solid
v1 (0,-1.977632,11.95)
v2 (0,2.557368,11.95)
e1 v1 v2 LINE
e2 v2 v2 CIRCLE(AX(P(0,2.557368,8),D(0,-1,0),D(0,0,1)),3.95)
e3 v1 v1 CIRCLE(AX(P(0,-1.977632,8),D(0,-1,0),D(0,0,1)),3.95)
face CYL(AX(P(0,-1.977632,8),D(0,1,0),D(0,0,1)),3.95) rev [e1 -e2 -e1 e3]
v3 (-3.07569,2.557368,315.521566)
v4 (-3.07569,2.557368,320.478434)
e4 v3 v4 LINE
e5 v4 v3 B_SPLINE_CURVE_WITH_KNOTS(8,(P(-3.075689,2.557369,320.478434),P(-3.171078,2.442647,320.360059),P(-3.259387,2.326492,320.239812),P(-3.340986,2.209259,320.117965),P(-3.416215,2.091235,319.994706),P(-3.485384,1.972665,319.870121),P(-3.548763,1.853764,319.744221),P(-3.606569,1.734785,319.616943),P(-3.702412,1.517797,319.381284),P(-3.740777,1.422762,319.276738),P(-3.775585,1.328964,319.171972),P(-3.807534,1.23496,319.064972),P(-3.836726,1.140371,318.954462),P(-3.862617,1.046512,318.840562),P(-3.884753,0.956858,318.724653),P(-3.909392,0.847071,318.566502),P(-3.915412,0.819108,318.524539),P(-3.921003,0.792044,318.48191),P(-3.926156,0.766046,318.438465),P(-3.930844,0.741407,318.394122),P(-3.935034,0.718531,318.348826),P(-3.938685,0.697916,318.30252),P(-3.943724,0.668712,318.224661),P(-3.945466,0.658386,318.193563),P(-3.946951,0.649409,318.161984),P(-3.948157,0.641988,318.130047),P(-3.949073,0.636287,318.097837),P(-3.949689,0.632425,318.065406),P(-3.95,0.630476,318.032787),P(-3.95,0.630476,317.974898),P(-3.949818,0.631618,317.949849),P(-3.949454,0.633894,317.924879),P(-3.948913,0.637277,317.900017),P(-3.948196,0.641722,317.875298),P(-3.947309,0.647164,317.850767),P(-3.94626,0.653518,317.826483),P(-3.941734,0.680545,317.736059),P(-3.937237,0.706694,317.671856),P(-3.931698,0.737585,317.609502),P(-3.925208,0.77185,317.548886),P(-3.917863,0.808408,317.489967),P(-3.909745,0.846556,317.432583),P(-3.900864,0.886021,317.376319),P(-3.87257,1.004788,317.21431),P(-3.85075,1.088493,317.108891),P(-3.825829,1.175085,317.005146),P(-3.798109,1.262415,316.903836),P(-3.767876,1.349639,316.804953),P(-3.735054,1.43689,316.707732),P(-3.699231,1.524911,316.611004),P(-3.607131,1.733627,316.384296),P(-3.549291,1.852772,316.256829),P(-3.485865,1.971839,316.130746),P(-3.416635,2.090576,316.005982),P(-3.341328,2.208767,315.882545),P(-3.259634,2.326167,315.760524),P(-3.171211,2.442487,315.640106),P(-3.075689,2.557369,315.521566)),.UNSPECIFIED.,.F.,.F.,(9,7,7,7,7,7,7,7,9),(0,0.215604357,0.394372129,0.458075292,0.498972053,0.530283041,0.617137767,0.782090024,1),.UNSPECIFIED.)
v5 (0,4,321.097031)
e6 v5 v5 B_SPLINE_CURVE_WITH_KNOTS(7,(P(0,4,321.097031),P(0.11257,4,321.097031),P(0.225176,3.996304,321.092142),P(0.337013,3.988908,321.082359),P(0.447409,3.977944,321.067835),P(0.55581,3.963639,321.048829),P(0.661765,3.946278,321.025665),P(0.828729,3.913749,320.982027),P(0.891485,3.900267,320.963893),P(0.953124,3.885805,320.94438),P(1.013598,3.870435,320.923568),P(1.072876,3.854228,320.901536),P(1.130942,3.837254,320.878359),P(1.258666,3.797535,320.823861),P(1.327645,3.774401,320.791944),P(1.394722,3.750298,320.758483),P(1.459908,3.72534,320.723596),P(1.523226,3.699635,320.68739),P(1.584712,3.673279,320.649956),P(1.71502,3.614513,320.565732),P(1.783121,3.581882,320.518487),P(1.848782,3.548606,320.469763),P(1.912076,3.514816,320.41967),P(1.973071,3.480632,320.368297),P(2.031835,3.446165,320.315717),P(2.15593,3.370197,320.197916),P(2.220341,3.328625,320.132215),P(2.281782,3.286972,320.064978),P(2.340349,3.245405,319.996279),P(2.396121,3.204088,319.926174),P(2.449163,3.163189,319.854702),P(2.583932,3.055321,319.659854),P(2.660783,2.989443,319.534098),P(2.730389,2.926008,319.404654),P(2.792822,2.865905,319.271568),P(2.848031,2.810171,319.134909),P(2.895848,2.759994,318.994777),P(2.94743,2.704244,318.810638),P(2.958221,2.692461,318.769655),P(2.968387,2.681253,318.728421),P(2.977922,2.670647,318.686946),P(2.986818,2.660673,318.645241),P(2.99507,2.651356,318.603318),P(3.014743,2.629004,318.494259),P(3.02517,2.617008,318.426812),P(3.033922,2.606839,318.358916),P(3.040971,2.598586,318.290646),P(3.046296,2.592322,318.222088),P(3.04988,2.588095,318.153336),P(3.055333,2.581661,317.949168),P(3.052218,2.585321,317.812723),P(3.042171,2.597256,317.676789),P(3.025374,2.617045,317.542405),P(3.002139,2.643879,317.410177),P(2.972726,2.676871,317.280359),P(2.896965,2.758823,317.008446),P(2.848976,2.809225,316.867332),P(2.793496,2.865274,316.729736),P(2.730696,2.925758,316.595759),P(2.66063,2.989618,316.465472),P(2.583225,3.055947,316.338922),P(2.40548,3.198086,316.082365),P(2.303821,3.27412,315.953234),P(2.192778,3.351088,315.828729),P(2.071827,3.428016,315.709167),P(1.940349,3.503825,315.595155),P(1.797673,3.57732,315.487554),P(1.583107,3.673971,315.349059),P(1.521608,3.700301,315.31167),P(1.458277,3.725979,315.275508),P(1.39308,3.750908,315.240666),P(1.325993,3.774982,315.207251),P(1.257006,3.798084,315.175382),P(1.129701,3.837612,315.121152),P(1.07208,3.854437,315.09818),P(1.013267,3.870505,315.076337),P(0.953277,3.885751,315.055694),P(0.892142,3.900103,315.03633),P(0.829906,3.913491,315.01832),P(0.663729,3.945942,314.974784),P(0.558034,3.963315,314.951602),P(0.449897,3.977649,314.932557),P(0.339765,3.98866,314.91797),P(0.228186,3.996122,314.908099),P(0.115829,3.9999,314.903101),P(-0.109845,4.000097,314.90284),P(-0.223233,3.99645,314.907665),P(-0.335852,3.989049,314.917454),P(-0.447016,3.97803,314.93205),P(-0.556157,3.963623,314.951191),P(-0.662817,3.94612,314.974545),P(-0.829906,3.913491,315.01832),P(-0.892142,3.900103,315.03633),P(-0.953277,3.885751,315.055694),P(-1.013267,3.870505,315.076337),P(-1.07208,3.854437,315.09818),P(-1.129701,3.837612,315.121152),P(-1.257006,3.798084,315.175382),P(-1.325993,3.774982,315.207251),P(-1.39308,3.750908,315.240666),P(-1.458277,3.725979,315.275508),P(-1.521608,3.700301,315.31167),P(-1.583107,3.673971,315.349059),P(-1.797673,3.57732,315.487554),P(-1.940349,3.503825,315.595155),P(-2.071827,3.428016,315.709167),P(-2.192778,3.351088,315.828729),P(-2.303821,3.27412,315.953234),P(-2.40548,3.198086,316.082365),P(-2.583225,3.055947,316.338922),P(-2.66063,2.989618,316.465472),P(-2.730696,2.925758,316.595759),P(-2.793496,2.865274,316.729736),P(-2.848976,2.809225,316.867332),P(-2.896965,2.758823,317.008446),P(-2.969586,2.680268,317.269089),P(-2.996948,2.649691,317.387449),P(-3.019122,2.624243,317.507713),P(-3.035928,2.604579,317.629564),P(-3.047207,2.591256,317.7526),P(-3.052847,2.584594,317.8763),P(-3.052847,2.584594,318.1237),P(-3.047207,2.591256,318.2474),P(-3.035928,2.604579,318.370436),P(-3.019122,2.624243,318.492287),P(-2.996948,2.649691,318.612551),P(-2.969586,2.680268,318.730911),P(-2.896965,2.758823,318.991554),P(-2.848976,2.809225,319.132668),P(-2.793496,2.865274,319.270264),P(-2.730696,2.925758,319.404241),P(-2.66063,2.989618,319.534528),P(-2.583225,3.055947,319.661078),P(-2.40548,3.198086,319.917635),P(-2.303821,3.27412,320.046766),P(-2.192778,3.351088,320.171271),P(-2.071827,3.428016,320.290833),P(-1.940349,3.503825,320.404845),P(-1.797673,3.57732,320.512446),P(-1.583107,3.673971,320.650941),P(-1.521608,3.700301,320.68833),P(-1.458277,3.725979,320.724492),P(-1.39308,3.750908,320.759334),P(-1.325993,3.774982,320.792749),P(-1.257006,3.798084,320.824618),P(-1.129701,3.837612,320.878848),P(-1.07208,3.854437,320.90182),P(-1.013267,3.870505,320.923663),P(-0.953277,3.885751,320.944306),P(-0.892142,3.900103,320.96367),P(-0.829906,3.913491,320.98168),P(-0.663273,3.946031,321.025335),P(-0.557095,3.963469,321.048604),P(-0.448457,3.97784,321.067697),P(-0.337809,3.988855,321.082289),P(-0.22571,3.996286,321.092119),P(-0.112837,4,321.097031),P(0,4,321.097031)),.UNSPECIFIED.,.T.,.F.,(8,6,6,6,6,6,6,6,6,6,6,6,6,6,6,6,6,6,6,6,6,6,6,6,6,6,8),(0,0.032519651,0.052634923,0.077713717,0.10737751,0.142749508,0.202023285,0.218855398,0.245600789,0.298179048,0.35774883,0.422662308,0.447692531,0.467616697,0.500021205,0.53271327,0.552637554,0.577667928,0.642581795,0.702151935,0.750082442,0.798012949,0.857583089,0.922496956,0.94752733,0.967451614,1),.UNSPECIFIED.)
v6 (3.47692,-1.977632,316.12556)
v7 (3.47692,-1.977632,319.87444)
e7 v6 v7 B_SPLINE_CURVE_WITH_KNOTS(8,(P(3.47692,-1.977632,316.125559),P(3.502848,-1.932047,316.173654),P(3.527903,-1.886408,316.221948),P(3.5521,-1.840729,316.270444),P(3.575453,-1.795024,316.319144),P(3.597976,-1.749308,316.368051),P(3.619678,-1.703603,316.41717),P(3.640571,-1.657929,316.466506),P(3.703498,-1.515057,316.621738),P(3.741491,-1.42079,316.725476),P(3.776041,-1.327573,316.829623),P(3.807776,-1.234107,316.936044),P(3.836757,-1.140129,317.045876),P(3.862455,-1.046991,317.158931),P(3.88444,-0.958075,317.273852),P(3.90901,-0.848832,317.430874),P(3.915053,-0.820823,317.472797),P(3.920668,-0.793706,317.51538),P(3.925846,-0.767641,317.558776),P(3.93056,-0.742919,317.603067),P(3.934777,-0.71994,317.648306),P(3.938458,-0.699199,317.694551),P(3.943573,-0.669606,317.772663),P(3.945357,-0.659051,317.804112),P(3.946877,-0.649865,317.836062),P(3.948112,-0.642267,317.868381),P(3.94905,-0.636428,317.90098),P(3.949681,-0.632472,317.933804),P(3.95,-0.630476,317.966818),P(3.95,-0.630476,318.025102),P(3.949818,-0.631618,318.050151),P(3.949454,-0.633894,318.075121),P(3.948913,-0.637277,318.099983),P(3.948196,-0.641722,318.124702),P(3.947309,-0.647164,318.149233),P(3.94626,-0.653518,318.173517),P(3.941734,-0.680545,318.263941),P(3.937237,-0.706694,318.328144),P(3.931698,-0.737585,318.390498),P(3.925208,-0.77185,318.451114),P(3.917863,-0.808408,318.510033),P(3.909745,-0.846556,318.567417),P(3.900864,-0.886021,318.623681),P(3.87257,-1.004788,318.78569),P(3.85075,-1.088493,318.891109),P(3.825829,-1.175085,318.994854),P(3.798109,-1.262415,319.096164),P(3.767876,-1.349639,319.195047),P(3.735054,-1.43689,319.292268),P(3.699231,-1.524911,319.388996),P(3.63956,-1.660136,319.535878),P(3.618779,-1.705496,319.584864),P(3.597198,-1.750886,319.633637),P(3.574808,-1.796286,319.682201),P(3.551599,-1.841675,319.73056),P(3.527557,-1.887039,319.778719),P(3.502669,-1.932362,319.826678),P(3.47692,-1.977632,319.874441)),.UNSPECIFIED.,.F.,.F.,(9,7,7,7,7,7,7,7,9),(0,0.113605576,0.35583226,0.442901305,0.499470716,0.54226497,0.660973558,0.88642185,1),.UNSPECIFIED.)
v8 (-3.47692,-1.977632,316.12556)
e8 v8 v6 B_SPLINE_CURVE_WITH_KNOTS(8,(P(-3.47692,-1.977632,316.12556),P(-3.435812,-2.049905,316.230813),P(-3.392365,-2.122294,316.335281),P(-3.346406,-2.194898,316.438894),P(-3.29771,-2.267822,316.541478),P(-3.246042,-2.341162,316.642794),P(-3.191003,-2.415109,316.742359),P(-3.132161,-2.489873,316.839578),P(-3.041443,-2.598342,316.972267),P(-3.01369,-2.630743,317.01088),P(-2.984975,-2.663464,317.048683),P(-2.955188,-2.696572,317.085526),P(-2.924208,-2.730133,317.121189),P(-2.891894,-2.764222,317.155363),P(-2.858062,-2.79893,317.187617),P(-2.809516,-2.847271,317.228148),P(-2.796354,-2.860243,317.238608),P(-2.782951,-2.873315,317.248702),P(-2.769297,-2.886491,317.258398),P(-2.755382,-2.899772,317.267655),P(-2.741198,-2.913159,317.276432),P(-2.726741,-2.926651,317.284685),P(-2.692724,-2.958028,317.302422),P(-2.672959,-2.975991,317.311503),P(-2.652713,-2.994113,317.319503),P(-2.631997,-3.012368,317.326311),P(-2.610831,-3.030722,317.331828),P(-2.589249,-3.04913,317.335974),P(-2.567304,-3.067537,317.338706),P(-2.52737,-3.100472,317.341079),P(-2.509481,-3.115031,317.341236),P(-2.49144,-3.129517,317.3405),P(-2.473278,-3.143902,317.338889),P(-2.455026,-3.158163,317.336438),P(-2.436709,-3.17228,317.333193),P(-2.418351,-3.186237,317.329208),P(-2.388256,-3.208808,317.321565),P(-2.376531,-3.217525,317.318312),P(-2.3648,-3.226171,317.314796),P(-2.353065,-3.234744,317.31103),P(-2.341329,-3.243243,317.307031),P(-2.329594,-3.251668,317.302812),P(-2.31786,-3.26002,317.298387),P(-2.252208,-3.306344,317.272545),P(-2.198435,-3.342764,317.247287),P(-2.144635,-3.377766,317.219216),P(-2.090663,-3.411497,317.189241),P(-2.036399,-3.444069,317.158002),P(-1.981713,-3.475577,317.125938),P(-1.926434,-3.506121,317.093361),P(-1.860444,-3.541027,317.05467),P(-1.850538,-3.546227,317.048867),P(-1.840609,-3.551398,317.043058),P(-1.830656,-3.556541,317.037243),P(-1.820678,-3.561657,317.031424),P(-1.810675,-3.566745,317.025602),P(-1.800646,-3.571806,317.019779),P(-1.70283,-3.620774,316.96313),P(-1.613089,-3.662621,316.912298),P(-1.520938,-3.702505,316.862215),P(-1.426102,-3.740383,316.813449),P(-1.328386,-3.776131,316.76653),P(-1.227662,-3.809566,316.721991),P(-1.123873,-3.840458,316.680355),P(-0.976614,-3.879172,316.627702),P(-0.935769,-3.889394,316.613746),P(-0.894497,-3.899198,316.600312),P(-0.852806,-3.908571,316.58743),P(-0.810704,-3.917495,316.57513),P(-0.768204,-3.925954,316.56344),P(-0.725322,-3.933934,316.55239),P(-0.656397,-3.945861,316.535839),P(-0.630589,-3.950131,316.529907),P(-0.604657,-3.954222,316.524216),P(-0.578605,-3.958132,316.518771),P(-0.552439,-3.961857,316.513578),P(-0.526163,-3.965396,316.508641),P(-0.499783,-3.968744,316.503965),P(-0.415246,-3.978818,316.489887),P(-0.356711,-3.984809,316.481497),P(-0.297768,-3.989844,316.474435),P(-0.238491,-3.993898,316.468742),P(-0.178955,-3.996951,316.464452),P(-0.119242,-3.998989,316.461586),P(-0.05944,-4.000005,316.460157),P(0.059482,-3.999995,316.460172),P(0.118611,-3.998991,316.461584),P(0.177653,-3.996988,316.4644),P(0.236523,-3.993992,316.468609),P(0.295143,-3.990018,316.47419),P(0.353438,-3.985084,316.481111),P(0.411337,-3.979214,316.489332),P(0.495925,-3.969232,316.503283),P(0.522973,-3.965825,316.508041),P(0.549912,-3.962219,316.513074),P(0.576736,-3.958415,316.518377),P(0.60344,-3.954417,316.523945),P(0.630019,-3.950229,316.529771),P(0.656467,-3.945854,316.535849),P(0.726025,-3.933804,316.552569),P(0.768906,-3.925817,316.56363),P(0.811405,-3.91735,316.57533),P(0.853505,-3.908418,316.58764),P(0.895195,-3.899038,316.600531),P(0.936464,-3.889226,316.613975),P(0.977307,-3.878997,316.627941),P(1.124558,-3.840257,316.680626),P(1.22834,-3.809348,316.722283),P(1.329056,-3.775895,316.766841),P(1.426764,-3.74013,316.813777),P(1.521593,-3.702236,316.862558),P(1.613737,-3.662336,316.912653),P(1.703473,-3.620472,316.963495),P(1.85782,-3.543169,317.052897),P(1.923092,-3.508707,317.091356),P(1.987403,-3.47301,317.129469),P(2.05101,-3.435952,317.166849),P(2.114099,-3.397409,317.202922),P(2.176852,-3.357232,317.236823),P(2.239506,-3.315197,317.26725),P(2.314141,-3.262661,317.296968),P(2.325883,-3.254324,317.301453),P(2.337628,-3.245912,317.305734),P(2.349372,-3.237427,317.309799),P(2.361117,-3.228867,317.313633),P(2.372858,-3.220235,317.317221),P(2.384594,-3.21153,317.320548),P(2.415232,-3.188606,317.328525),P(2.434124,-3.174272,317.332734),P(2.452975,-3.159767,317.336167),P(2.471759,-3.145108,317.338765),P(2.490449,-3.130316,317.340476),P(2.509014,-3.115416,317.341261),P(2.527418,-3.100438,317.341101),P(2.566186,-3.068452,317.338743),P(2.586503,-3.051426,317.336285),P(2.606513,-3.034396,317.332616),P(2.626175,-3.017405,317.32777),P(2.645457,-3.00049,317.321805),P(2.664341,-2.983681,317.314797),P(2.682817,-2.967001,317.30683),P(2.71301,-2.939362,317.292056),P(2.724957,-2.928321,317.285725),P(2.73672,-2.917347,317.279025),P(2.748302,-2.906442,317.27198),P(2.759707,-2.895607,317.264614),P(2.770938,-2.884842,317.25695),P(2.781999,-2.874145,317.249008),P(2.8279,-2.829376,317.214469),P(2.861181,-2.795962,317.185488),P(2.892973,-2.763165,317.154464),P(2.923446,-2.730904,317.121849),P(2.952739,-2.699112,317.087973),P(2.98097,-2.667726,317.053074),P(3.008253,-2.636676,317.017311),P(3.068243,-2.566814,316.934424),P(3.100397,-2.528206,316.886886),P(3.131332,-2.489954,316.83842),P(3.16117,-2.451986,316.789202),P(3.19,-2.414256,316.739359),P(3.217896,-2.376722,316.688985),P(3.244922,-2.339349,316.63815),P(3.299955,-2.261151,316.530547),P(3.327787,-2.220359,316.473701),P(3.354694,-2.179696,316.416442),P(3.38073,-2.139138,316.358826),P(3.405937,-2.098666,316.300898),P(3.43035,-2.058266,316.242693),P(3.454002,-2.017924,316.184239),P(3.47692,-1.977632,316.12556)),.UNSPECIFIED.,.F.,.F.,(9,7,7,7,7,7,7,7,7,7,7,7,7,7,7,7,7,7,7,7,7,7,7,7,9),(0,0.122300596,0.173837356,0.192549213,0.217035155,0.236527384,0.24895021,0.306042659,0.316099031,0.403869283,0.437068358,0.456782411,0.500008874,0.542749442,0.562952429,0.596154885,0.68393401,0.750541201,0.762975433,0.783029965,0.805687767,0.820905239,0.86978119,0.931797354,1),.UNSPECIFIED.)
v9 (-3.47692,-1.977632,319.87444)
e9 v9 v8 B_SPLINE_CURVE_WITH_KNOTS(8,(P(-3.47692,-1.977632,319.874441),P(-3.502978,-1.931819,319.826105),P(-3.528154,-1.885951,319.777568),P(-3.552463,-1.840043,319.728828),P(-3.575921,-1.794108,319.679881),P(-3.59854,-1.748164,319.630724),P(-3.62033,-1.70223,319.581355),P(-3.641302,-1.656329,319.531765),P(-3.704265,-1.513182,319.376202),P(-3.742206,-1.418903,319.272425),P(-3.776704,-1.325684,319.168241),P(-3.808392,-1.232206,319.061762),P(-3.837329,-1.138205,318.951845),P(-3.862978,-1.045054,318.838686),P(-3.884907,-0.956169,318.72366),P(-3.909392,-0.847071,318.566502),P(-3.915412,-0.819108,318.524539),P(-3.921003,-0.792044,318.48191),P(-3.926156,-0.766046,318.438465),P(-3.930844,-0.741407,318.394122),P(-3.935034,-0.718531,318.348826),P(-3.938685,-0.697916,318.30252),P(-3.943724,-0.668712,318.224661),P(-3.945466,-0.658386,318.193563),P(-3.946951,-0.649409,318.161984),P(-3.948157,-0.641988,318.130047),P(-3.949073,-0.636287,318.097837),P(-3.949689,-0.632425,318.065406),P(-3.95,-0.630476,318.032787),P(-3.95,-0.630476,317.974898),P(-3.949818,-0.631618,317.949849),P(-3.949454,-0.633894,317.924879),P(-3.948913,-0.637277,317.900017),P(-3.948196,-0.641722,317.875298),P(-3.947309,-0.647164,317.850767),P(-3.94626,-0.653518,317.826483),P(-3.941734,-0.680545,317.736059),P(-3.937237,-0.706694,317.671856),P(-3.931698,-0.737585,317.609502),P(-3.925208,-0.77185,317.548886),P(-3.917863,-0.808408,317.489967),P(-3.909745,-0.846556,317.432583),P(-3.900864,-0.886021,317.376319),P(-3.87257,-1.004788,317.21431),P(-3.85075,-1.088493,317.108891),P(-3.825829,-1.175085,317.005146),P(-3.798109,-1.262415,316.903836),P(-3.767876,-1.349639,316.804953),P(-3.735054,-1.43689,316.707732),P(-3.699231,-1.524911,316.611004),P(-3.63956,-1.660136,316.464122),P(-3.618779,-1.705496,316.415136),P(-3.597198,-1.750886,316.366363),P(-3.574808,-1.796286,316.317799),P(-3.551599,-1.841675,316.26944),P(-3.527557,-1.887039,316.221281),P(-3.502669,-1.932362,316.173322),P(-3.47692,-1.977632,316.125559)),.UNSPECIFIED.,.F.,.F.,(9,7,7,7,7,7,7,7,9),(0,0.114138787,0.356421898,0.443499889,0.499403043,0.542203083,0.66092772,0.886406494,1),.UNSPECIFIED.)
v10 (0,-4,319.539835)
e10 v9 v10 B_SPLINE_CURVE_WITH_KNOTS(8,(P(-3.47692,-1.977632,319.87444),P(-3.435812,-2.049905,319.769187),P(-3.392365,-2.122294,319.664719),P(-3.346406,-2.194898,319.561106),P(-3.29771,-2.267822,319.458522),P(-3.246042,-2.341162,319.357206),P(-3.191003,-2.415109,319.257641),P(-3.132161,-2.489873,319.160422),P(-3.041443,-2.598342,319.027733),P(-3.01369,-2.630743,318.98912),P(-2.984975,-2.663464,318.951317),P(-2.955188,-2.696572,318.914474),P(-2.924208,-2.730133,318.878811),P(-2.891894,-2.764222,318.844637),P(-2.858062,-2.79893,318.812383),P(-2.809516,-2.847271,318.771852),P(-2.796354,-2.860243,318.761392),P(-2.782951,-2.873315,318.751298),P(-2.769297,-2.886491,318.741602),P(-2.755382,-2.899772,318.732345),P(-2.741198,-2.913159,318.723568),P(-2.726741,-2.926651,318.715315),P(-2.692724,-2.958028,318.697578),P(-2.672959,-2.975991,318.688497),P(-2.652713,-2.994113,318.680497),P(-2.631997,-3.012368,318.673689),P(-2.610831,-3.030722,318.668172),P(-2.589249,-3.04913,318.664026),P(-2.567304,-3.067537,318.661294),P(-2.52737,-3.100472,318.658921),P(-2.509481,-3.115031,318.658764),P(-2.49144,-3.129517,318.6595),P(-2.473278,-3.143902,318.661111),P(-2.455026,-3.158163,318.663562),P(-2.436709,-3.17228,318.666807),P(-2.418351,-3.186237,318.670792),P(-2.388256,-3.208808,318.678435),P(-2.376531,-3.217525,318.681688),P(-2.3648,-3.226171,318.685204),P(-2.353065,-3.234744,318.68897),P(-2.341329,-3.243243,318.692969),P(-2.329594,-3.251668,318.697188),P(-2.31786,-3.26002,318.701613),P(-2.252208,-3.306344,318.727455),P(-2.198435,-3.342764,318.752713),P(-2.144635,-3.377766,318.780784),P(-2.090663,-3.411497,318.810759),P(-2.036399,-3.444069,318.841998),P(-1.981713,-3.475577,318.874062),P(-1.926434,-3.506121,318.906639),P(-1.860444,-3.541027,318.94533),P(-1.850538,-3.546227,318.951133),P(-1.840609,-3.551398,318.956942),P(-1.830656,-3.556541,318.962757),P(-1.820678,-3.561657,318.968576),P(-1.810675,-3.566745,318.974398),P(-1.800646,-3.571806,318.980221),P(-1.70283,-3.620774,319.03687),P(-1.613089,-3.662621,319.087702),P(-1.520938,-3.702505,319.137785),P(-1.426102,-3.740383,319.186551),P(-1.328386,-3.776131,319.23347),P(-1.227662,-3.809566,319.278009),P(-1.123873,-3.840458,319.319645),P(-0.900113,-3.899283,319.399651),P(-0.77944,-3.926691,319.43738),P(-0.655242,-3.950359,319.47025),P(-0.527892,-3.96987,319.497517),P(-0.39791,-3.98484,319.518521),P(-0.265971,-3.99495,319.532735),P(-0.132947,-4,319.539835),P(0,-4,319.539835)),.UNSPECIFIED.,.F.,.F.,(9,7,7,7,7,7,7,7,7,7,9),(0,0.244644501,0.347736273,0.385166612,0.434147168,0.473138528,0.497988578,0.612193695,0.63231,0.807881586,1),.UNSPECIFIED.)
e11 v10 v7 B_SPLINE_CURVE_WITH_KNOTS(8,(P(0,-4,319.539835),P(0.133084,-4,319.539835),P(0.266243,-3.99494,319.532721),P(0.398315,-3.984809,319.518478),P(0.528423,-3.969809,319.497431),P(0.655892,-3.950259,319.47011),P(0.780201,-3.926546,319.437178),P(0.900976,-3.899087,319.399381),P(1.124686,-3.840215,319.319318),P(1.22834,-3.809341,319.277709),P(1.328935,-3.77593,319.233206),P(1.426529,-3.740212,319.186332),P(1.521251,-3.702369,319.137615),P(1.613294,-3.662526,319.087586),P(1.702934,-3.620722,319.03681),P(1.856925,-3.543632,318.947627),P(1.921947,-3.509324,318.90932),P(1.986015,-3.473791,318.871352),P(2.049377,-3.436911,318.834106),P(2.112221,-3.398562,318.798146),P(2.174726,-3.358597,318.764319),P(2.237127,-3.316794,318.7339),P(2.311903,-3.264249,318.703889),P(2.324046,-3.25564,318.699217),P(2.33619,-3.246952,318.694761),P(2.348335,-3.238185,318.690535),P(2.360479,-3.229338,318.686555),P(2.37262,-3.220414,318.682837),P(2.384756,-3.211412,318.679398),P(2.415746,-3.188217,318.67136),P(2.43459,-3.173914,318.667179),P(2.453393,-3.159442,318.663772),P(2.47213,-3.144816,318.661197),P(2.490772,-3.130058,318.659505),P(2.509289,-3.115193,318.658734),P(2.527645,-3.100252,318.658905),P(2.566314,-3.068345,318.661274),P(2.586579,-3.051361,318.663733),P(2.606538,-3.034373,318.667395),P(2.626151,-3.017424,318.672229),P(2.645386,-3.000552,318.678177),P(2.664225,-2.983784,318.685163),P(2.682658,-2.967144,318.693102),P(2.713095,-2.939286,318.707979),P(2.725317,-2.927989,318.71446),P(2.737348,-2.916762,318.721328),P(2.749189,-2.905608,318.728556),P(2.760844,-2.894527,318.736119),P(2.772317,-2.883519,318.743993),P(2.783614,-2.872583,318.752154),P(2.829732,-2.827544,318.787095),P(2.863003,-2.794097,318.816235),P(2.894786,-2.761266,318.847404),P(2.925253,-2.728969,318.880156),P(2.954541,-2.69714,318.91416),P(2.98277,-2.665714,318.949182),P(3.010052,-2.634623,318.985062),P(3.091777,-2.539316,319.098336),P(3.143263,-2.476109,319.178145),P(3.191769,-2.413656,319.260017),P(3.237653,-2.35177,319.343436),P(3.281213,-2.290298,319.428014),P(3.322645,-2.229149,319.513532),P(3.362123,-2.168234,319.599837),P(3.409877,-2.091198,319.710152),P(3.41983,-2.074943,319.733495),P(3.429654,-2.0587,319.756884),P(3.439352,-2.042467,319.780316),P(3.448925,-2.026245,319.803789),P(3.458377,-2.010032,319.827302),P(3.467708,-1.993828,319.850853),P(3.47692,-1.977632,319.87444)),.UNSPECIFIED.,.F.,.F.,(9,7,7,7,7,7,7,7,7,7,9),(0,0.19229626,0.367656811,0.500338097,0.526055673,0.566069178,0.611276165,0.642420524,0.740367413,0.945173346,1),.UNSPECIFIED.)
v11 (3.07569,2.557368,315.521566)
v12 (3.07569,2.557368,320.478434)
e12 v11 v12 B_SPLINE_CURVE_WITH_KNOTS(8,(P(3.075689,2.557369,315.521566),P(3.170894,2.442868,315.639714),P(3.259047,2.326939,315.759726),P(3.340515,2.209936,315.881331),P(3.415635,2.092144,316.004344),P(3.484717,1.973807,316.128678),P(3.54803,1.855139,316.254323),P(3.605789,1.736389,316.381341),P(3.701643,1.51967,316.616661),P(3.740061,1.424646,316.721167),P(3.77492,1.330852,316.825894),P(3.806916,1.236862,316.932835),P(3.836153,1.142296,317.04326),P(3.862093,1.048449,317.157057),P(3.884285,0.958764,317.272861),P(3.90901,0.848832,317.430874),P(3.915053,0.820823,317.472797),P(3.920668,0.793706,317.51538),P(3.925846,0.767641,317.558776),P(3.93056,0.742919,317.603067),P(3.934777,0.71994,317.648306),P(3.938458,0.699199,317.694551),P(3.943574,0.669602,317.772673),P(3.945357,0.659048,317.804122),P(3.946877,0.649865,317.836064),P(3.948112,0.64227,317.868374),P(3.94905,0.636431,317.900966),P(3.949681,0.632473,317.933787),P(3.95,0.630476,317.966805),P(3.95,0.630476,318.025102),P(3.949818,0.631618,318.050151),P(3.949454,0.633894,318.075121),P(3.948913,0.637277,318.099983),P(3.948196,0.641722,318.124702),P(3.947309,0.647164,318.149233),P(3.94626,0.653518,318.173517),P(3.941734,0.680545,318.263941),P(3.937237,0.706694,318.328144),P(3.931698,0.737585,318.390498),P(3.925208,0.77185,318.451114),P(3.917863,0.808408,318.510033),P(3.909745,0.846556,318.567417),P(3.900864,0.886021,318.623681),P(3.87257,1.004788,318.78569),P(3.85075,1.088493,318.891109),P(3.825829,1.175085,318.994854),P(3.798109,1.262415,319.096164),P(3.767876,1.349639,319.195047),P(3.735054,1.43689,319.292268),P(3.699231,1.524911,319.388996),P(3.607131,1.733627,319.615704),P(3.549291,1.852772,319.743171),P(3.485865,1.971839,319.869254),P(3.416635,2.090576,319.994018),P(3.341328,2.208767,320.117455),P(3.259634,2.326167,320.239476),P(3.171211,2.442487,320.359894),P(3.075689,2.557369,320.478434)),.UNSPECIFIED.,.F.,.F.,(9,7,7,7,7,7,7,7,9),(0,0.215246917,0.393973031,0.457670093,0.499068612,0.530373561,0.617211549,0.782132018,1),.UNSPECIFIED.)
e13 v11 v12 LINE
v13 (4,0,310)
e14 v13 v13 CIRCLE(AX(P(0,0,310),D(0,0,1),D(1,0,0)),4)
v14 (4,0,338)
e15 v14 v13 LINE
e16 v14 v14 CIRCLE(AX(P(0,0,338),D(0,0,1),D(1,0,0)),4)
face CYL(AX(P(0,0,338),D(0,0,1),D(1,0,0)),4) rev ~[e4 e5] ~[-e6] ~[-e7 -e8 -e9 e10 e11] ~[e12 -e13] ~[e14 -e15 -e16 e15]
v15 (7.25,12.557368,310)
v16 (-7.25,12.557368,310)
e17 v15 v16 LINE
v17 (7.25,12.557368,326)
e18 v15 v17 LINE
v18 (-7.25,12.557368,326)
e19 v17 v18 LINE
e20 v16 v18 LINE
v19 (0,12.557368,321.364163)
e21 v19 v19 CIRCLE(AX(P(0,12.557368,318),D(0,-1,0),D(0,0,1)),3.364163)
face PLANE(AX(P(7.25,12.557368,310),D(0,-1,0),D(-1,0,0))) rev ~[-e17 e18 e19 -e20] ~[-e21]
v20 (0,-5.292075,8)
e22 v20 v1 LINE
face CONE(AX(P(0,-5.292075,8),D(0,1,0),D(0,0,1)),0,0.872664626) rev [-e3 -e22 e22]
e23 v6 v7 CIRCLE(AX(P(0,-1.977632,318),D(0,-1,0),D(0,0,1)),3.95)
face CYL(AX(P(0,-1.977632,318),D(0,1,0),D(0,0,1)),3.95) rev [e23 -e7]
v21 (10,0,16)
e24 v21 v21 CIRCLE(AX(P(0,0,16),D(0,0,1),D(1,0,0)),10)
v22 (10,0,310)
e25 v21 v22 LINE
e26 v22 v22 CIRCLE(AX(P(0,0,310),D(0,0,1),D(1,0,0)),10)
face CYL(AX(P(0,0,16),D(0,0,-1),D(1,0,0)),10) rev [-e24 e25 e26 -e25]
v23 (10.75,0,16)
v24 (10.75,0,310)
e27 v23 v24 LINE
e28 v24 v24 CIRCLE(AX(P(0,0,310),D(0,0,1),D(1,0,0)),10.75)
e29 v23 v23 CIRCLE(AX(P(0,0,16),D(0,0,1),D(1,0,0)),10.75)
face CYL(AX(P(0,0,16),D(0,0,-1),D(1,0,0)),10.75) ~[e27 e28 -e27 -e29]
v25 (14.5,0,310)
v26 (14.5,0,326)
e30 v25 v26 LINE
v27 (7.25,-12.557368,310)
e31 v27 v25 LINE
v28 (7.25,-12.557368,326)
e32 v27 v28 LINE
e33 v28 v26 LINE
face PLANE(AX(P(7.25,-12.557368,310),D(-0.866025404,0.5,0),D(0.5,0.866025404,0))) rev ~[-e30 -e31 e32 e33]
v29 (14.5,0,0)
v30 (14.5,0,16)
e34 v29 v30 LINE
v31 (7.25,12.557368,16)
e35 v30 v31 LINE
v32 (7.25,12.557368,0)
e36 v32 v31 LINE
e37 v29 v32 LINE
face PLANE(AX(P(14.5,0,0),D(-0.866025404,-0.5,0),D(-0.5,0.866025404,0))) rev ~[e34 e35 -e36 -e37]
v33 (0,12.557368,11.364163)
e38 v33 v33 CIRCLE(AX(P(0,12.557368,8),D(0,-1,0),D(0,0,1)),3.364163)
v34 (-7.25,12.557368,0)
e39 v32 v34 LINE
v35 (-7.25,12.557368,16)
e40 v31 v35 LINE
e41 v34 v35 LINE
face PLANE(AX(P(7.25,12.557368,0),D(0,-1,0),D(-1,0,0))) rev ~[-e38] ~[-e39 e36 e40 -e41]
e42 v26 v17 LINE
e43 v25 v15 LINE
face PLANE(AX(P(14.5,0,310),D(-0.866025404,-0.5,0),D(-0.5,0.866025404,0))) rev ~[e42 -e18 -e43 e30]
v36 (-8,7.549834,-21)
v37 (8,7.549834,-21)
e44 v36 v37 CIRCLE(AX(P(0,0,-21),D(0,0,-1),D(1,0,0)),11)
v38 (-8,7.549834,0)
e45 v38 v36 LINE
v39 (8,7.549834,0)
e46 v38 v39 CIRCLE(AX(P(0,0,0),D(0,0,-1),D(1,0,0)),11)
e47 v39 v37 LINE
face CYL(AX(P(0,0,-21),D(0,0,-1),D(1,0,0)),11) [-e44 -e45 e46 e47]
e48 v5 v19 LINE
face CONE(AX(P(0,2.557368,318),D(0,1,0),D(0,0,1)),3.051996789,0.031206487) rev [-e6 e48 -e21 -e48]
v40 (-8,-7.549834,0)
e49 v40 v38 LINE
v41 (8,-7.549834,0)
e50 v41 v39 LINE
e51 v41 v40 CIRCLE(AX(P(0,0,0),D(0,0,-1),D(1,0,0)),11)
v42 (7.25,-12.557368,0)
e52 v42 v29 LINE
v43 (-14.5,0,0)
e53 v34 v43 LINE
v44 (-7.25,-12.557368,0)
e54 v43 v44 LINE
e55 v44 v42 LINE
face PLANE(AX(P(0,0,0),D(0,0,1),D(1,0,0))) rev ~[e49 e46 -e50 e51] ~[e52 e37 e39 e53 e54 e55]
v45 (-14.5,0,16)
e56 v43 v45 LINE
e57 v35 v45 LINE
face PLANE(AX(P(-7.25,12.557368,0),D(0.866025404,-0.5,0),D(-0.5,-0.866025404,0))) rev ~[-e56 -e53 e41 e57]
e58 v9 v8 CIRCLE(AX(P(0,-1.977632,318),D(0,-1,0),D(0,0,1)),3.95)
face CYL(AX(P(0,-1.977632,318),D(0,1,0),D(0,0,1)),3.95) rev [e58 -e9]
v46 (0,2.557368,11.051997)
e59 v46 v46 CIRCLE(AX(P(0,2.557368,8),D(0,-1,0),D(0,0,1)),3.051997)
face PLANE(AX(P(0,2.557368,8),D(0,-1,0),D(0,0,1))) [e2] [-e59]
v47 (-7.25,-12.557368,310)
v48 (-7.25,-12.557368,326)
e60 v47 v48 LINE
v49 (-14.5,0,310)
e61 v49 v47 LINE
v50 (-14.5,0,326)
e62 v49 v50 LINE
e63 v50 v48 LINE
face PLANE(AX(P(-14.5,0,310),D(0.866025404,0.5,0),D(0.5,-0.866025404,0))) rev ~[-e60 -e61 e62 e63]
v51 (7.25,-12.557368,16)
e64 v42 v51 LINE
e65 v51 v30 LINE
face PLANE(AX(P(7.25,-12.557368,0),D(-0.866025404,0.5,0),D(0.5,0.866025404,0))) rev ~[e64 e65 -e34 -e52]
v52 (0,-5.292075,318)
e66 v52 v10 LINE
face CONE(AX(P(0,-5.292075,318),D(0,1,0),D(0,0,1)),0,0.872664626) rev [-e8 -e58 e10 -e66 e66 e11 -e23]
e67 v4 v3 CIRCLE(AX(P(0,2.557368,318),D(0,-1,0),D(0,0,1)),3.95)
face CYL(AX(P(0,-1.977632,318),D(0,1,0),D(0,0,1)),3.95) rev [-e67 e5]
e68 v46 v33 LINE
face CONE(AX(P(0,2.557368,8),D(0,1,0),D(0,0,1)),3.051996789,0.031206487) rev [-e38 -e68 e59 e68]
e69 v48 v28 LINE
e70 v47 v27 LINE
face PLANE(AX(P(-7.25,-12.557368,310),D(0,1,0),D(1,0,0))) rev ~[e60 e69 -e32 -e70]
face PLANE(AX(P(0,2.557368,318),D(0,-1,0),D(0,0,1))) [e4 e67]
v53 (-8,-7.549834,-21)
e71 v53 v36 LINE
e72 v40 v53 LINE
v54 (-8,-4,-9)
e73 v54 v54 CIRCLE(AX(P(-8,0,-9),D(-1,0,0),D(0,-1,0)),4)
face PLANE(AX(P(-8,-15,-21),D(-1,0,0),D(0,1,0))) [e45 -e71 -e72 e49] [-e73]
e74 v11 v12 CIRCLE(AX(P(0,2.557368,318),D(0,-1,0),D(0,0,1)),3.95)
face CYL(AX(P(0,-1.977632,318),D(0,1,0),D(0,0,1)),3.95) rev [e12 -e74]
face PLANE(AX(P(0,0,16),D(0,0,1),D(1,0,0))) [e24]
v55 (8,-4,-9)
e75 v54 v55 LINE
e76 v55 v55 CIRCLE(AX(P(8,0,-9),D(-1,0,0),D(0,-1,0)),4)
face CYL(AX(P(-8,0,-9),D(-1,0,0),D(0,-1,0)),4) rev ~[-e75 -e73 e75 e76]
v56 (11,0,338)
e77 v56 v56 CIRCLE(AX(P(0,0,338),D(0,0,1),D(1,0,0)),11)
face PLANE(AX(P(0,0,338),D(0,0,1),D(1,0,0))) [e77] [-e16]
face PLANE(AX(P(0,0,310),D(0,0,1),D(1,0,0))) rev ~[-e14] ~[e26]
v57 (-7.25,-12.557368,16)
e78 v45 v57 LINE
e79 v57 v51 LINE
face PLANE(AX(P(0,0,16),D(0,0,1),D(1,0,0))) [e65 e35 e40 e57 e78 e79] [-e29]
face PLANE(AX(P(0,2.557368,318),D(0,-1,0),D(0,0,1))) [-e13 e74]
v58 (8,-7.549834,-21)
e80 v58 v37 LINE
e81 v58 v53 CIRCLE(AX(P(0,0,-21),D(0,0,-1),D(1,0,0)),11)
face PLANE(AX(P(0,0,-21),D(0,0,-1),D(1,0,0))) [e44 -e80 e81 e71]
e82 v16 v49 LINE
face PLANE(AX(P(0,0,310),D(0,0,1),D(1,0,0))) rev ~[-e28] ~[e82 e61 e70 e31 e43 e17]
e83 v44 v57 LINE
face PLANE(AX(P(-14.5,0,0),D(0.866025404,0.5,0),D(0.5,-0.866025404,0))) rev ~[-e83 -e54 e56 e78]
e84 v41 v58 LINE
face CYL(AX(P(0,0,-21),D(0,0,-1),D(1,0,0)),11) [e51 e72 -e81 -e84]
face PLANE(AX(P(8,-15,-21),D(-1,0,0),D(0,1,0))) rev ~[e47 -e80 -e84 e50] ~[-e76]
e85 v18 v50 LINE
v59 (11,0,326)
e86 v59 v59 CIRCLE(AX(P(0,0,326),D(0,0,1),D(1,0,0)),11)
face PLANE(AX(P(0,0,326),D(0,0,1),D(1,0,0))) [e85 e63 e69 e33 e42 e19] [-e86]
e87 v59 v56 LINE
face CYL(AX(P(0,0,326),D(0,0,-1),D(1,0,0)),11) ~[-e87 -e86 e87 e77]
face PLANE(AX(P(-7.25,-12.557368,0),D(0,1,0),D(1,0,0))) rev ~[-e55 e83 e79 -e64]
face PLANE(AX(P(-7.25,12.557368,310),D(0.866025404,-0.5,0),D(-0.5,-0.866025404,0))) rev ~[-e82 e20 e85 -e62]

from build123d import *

# Parameters (mm, degrees)
EXTRUDE_1_DEPTH       = 16
SKETCH_3_R            = 10.75
SKETCH_3_R_2          = 10
EXTRUDE_3_DEPTH       = 294
EXTRUDE_4_DEPTH       = 16
F_1_8_RC_1_AT_2_COUNT = 2
F_1_8_RC_1_AT_2_PITCH = 310
SKETCH_8_R            = 11
EXTRUDE_5_DEPTH       = 12
SKETCH_9_R            = 4
CUT_EXTRUDE_1_DEPTH   = 50
EXTRUDE_START         = 21
SKETCH_10_R           = 11
EXTRUDE_6_DEPTH       = 21
SKETCH_11_R           = 22.5
SKETCH_11_W           = 16
SKETCH_11_H           = 30
CUT_EXTRUDE_2_DEPTH   = 21
SKETCH_12_R           = 4
CUT_EXTRUDE_3_DEPTH   = 339.980733332


with BuildPart() as part:
    # 草图1 → 凸台-拉伸1 (new body)
    with BuildSketch(Plane.XY):
        Polygon((14.5, 0), (7.25, 12.557368355), (-7.25, 12.557368355), (-14.5, 0), (-7.25, -12.557368355), (7.25, -12.557368355), align=None)
    extrude(amount=EXTRUDE_1_DEPTH)

    # 草图3 → 凸台-拉伸3 (add)
    with BuildSketch(Plane.XY.offset(16)):
        Circle(SKETCH_3_R)
        Circle(SKETCH_3_R_2, mode=Mode.SUBTRACT)
    extrude(amount=EXTRUDE_3_DEPTH)

    # 草图4 → 凸台-拉伸4 (add)
    with BuildSketch(Plane.XY.offset(310)):
        Polygon((14.5, 0), (7.25, 12.557368355), (-7.25, 12.557368355), (-14.5, 0), (-7.25, -12.557368355), (7.25, -12.557368355), align=None)
    extrude(amount=EXTRUDE_4_DEPTH)

    # 草图6 → 1/8 Rc 螺纹孔1 (revolve, cut)
    with BuildSketch(Plane(origin=(0, 12.557368355, 318), x_dir=(0, 0, 1), z_dir=(1, 0, 0))):
        Polygon((0, 0), (0, 17.849443543), (3.95, 14.535), (3.95, 10), (3.051996789, 10), (3.364163, 0), align=None)
    f_1_8_rc_1 = revolve(axis=Axis((0, 18.907368355, 318), (0, -1, 0)), mode=Mode.SUBTRACT)

    # 1/8 Rc 螺纹孔1 at 2: 1/8 Rc 螺纹孔1 ×2
    with Locations(*[(0, 0, -i * F_1_8_RC_1_AT_2_PITCH) for i in range(1, F_1_8_RC_1_AT_2_COUNT)]):
        add(f_1_8_rc_1, mode=Mode.SUBTRACT)

    # 草图8 → 凸台-拉伸5 (add)
    with BuildSketch(Plane.XY.offset(326)):
        Circle(SKETCH_8_R)
    extrude(amount=EXTRUDE_5_DEPTH)

    # 草图9 → 切除-拉伸1 (cut)
    with BuildSketch(Plane.XY.offset(338)):
        Circle(SKETCH_9_R)
    extrude(amount=-CUT_EXTRUDE_1_DEPTH, mode=Mode.SUBTRACT)

    # 草图10 → 凸台-拉伸6 (add)
    with BuildSketch(Plane(origin=(0, 0, 0), x_dir=(-1, 0, 0), z_dir=(0, 0, -1)).offset(EXTRUDE_START)):
        with Locations(Location((0, 0, 0), (0, 0, 180))):
            Circle(SKETCH_10_R)
    extrude(amount=-EXTRUDE_6_DEPTH)

    # 草图11 → 切除-拉伸2 (cut)
    with BuildSketch(Plane(origin=(0, 0, -21), x_dir=(-1, 0, 0), z_dir=(0, 0, -1))):
        Circle(SKETCH_11_R)
        Rectangle(SKETCH_11_W, SKETCH_11_H, mode=Mode.SUBTRACT)
    extrude(amount=-CUT_EXTRUDE_2_DEPTH, mode=Mode.SUBTRACT)

    # 草图12 → 切除-拉伸3 (cut, through all)
    with BuildSketch(Plane.ZY.offset(8)):
        with Locations(Location((-9, 0, 0), (0, 0, 270))):
            Circle(SKETCH_12_R)
    extrude(amount=-CUT_EXTRUDE_3_DEPTH, mode=Mode.SUBTRACT)


solid = part.part
